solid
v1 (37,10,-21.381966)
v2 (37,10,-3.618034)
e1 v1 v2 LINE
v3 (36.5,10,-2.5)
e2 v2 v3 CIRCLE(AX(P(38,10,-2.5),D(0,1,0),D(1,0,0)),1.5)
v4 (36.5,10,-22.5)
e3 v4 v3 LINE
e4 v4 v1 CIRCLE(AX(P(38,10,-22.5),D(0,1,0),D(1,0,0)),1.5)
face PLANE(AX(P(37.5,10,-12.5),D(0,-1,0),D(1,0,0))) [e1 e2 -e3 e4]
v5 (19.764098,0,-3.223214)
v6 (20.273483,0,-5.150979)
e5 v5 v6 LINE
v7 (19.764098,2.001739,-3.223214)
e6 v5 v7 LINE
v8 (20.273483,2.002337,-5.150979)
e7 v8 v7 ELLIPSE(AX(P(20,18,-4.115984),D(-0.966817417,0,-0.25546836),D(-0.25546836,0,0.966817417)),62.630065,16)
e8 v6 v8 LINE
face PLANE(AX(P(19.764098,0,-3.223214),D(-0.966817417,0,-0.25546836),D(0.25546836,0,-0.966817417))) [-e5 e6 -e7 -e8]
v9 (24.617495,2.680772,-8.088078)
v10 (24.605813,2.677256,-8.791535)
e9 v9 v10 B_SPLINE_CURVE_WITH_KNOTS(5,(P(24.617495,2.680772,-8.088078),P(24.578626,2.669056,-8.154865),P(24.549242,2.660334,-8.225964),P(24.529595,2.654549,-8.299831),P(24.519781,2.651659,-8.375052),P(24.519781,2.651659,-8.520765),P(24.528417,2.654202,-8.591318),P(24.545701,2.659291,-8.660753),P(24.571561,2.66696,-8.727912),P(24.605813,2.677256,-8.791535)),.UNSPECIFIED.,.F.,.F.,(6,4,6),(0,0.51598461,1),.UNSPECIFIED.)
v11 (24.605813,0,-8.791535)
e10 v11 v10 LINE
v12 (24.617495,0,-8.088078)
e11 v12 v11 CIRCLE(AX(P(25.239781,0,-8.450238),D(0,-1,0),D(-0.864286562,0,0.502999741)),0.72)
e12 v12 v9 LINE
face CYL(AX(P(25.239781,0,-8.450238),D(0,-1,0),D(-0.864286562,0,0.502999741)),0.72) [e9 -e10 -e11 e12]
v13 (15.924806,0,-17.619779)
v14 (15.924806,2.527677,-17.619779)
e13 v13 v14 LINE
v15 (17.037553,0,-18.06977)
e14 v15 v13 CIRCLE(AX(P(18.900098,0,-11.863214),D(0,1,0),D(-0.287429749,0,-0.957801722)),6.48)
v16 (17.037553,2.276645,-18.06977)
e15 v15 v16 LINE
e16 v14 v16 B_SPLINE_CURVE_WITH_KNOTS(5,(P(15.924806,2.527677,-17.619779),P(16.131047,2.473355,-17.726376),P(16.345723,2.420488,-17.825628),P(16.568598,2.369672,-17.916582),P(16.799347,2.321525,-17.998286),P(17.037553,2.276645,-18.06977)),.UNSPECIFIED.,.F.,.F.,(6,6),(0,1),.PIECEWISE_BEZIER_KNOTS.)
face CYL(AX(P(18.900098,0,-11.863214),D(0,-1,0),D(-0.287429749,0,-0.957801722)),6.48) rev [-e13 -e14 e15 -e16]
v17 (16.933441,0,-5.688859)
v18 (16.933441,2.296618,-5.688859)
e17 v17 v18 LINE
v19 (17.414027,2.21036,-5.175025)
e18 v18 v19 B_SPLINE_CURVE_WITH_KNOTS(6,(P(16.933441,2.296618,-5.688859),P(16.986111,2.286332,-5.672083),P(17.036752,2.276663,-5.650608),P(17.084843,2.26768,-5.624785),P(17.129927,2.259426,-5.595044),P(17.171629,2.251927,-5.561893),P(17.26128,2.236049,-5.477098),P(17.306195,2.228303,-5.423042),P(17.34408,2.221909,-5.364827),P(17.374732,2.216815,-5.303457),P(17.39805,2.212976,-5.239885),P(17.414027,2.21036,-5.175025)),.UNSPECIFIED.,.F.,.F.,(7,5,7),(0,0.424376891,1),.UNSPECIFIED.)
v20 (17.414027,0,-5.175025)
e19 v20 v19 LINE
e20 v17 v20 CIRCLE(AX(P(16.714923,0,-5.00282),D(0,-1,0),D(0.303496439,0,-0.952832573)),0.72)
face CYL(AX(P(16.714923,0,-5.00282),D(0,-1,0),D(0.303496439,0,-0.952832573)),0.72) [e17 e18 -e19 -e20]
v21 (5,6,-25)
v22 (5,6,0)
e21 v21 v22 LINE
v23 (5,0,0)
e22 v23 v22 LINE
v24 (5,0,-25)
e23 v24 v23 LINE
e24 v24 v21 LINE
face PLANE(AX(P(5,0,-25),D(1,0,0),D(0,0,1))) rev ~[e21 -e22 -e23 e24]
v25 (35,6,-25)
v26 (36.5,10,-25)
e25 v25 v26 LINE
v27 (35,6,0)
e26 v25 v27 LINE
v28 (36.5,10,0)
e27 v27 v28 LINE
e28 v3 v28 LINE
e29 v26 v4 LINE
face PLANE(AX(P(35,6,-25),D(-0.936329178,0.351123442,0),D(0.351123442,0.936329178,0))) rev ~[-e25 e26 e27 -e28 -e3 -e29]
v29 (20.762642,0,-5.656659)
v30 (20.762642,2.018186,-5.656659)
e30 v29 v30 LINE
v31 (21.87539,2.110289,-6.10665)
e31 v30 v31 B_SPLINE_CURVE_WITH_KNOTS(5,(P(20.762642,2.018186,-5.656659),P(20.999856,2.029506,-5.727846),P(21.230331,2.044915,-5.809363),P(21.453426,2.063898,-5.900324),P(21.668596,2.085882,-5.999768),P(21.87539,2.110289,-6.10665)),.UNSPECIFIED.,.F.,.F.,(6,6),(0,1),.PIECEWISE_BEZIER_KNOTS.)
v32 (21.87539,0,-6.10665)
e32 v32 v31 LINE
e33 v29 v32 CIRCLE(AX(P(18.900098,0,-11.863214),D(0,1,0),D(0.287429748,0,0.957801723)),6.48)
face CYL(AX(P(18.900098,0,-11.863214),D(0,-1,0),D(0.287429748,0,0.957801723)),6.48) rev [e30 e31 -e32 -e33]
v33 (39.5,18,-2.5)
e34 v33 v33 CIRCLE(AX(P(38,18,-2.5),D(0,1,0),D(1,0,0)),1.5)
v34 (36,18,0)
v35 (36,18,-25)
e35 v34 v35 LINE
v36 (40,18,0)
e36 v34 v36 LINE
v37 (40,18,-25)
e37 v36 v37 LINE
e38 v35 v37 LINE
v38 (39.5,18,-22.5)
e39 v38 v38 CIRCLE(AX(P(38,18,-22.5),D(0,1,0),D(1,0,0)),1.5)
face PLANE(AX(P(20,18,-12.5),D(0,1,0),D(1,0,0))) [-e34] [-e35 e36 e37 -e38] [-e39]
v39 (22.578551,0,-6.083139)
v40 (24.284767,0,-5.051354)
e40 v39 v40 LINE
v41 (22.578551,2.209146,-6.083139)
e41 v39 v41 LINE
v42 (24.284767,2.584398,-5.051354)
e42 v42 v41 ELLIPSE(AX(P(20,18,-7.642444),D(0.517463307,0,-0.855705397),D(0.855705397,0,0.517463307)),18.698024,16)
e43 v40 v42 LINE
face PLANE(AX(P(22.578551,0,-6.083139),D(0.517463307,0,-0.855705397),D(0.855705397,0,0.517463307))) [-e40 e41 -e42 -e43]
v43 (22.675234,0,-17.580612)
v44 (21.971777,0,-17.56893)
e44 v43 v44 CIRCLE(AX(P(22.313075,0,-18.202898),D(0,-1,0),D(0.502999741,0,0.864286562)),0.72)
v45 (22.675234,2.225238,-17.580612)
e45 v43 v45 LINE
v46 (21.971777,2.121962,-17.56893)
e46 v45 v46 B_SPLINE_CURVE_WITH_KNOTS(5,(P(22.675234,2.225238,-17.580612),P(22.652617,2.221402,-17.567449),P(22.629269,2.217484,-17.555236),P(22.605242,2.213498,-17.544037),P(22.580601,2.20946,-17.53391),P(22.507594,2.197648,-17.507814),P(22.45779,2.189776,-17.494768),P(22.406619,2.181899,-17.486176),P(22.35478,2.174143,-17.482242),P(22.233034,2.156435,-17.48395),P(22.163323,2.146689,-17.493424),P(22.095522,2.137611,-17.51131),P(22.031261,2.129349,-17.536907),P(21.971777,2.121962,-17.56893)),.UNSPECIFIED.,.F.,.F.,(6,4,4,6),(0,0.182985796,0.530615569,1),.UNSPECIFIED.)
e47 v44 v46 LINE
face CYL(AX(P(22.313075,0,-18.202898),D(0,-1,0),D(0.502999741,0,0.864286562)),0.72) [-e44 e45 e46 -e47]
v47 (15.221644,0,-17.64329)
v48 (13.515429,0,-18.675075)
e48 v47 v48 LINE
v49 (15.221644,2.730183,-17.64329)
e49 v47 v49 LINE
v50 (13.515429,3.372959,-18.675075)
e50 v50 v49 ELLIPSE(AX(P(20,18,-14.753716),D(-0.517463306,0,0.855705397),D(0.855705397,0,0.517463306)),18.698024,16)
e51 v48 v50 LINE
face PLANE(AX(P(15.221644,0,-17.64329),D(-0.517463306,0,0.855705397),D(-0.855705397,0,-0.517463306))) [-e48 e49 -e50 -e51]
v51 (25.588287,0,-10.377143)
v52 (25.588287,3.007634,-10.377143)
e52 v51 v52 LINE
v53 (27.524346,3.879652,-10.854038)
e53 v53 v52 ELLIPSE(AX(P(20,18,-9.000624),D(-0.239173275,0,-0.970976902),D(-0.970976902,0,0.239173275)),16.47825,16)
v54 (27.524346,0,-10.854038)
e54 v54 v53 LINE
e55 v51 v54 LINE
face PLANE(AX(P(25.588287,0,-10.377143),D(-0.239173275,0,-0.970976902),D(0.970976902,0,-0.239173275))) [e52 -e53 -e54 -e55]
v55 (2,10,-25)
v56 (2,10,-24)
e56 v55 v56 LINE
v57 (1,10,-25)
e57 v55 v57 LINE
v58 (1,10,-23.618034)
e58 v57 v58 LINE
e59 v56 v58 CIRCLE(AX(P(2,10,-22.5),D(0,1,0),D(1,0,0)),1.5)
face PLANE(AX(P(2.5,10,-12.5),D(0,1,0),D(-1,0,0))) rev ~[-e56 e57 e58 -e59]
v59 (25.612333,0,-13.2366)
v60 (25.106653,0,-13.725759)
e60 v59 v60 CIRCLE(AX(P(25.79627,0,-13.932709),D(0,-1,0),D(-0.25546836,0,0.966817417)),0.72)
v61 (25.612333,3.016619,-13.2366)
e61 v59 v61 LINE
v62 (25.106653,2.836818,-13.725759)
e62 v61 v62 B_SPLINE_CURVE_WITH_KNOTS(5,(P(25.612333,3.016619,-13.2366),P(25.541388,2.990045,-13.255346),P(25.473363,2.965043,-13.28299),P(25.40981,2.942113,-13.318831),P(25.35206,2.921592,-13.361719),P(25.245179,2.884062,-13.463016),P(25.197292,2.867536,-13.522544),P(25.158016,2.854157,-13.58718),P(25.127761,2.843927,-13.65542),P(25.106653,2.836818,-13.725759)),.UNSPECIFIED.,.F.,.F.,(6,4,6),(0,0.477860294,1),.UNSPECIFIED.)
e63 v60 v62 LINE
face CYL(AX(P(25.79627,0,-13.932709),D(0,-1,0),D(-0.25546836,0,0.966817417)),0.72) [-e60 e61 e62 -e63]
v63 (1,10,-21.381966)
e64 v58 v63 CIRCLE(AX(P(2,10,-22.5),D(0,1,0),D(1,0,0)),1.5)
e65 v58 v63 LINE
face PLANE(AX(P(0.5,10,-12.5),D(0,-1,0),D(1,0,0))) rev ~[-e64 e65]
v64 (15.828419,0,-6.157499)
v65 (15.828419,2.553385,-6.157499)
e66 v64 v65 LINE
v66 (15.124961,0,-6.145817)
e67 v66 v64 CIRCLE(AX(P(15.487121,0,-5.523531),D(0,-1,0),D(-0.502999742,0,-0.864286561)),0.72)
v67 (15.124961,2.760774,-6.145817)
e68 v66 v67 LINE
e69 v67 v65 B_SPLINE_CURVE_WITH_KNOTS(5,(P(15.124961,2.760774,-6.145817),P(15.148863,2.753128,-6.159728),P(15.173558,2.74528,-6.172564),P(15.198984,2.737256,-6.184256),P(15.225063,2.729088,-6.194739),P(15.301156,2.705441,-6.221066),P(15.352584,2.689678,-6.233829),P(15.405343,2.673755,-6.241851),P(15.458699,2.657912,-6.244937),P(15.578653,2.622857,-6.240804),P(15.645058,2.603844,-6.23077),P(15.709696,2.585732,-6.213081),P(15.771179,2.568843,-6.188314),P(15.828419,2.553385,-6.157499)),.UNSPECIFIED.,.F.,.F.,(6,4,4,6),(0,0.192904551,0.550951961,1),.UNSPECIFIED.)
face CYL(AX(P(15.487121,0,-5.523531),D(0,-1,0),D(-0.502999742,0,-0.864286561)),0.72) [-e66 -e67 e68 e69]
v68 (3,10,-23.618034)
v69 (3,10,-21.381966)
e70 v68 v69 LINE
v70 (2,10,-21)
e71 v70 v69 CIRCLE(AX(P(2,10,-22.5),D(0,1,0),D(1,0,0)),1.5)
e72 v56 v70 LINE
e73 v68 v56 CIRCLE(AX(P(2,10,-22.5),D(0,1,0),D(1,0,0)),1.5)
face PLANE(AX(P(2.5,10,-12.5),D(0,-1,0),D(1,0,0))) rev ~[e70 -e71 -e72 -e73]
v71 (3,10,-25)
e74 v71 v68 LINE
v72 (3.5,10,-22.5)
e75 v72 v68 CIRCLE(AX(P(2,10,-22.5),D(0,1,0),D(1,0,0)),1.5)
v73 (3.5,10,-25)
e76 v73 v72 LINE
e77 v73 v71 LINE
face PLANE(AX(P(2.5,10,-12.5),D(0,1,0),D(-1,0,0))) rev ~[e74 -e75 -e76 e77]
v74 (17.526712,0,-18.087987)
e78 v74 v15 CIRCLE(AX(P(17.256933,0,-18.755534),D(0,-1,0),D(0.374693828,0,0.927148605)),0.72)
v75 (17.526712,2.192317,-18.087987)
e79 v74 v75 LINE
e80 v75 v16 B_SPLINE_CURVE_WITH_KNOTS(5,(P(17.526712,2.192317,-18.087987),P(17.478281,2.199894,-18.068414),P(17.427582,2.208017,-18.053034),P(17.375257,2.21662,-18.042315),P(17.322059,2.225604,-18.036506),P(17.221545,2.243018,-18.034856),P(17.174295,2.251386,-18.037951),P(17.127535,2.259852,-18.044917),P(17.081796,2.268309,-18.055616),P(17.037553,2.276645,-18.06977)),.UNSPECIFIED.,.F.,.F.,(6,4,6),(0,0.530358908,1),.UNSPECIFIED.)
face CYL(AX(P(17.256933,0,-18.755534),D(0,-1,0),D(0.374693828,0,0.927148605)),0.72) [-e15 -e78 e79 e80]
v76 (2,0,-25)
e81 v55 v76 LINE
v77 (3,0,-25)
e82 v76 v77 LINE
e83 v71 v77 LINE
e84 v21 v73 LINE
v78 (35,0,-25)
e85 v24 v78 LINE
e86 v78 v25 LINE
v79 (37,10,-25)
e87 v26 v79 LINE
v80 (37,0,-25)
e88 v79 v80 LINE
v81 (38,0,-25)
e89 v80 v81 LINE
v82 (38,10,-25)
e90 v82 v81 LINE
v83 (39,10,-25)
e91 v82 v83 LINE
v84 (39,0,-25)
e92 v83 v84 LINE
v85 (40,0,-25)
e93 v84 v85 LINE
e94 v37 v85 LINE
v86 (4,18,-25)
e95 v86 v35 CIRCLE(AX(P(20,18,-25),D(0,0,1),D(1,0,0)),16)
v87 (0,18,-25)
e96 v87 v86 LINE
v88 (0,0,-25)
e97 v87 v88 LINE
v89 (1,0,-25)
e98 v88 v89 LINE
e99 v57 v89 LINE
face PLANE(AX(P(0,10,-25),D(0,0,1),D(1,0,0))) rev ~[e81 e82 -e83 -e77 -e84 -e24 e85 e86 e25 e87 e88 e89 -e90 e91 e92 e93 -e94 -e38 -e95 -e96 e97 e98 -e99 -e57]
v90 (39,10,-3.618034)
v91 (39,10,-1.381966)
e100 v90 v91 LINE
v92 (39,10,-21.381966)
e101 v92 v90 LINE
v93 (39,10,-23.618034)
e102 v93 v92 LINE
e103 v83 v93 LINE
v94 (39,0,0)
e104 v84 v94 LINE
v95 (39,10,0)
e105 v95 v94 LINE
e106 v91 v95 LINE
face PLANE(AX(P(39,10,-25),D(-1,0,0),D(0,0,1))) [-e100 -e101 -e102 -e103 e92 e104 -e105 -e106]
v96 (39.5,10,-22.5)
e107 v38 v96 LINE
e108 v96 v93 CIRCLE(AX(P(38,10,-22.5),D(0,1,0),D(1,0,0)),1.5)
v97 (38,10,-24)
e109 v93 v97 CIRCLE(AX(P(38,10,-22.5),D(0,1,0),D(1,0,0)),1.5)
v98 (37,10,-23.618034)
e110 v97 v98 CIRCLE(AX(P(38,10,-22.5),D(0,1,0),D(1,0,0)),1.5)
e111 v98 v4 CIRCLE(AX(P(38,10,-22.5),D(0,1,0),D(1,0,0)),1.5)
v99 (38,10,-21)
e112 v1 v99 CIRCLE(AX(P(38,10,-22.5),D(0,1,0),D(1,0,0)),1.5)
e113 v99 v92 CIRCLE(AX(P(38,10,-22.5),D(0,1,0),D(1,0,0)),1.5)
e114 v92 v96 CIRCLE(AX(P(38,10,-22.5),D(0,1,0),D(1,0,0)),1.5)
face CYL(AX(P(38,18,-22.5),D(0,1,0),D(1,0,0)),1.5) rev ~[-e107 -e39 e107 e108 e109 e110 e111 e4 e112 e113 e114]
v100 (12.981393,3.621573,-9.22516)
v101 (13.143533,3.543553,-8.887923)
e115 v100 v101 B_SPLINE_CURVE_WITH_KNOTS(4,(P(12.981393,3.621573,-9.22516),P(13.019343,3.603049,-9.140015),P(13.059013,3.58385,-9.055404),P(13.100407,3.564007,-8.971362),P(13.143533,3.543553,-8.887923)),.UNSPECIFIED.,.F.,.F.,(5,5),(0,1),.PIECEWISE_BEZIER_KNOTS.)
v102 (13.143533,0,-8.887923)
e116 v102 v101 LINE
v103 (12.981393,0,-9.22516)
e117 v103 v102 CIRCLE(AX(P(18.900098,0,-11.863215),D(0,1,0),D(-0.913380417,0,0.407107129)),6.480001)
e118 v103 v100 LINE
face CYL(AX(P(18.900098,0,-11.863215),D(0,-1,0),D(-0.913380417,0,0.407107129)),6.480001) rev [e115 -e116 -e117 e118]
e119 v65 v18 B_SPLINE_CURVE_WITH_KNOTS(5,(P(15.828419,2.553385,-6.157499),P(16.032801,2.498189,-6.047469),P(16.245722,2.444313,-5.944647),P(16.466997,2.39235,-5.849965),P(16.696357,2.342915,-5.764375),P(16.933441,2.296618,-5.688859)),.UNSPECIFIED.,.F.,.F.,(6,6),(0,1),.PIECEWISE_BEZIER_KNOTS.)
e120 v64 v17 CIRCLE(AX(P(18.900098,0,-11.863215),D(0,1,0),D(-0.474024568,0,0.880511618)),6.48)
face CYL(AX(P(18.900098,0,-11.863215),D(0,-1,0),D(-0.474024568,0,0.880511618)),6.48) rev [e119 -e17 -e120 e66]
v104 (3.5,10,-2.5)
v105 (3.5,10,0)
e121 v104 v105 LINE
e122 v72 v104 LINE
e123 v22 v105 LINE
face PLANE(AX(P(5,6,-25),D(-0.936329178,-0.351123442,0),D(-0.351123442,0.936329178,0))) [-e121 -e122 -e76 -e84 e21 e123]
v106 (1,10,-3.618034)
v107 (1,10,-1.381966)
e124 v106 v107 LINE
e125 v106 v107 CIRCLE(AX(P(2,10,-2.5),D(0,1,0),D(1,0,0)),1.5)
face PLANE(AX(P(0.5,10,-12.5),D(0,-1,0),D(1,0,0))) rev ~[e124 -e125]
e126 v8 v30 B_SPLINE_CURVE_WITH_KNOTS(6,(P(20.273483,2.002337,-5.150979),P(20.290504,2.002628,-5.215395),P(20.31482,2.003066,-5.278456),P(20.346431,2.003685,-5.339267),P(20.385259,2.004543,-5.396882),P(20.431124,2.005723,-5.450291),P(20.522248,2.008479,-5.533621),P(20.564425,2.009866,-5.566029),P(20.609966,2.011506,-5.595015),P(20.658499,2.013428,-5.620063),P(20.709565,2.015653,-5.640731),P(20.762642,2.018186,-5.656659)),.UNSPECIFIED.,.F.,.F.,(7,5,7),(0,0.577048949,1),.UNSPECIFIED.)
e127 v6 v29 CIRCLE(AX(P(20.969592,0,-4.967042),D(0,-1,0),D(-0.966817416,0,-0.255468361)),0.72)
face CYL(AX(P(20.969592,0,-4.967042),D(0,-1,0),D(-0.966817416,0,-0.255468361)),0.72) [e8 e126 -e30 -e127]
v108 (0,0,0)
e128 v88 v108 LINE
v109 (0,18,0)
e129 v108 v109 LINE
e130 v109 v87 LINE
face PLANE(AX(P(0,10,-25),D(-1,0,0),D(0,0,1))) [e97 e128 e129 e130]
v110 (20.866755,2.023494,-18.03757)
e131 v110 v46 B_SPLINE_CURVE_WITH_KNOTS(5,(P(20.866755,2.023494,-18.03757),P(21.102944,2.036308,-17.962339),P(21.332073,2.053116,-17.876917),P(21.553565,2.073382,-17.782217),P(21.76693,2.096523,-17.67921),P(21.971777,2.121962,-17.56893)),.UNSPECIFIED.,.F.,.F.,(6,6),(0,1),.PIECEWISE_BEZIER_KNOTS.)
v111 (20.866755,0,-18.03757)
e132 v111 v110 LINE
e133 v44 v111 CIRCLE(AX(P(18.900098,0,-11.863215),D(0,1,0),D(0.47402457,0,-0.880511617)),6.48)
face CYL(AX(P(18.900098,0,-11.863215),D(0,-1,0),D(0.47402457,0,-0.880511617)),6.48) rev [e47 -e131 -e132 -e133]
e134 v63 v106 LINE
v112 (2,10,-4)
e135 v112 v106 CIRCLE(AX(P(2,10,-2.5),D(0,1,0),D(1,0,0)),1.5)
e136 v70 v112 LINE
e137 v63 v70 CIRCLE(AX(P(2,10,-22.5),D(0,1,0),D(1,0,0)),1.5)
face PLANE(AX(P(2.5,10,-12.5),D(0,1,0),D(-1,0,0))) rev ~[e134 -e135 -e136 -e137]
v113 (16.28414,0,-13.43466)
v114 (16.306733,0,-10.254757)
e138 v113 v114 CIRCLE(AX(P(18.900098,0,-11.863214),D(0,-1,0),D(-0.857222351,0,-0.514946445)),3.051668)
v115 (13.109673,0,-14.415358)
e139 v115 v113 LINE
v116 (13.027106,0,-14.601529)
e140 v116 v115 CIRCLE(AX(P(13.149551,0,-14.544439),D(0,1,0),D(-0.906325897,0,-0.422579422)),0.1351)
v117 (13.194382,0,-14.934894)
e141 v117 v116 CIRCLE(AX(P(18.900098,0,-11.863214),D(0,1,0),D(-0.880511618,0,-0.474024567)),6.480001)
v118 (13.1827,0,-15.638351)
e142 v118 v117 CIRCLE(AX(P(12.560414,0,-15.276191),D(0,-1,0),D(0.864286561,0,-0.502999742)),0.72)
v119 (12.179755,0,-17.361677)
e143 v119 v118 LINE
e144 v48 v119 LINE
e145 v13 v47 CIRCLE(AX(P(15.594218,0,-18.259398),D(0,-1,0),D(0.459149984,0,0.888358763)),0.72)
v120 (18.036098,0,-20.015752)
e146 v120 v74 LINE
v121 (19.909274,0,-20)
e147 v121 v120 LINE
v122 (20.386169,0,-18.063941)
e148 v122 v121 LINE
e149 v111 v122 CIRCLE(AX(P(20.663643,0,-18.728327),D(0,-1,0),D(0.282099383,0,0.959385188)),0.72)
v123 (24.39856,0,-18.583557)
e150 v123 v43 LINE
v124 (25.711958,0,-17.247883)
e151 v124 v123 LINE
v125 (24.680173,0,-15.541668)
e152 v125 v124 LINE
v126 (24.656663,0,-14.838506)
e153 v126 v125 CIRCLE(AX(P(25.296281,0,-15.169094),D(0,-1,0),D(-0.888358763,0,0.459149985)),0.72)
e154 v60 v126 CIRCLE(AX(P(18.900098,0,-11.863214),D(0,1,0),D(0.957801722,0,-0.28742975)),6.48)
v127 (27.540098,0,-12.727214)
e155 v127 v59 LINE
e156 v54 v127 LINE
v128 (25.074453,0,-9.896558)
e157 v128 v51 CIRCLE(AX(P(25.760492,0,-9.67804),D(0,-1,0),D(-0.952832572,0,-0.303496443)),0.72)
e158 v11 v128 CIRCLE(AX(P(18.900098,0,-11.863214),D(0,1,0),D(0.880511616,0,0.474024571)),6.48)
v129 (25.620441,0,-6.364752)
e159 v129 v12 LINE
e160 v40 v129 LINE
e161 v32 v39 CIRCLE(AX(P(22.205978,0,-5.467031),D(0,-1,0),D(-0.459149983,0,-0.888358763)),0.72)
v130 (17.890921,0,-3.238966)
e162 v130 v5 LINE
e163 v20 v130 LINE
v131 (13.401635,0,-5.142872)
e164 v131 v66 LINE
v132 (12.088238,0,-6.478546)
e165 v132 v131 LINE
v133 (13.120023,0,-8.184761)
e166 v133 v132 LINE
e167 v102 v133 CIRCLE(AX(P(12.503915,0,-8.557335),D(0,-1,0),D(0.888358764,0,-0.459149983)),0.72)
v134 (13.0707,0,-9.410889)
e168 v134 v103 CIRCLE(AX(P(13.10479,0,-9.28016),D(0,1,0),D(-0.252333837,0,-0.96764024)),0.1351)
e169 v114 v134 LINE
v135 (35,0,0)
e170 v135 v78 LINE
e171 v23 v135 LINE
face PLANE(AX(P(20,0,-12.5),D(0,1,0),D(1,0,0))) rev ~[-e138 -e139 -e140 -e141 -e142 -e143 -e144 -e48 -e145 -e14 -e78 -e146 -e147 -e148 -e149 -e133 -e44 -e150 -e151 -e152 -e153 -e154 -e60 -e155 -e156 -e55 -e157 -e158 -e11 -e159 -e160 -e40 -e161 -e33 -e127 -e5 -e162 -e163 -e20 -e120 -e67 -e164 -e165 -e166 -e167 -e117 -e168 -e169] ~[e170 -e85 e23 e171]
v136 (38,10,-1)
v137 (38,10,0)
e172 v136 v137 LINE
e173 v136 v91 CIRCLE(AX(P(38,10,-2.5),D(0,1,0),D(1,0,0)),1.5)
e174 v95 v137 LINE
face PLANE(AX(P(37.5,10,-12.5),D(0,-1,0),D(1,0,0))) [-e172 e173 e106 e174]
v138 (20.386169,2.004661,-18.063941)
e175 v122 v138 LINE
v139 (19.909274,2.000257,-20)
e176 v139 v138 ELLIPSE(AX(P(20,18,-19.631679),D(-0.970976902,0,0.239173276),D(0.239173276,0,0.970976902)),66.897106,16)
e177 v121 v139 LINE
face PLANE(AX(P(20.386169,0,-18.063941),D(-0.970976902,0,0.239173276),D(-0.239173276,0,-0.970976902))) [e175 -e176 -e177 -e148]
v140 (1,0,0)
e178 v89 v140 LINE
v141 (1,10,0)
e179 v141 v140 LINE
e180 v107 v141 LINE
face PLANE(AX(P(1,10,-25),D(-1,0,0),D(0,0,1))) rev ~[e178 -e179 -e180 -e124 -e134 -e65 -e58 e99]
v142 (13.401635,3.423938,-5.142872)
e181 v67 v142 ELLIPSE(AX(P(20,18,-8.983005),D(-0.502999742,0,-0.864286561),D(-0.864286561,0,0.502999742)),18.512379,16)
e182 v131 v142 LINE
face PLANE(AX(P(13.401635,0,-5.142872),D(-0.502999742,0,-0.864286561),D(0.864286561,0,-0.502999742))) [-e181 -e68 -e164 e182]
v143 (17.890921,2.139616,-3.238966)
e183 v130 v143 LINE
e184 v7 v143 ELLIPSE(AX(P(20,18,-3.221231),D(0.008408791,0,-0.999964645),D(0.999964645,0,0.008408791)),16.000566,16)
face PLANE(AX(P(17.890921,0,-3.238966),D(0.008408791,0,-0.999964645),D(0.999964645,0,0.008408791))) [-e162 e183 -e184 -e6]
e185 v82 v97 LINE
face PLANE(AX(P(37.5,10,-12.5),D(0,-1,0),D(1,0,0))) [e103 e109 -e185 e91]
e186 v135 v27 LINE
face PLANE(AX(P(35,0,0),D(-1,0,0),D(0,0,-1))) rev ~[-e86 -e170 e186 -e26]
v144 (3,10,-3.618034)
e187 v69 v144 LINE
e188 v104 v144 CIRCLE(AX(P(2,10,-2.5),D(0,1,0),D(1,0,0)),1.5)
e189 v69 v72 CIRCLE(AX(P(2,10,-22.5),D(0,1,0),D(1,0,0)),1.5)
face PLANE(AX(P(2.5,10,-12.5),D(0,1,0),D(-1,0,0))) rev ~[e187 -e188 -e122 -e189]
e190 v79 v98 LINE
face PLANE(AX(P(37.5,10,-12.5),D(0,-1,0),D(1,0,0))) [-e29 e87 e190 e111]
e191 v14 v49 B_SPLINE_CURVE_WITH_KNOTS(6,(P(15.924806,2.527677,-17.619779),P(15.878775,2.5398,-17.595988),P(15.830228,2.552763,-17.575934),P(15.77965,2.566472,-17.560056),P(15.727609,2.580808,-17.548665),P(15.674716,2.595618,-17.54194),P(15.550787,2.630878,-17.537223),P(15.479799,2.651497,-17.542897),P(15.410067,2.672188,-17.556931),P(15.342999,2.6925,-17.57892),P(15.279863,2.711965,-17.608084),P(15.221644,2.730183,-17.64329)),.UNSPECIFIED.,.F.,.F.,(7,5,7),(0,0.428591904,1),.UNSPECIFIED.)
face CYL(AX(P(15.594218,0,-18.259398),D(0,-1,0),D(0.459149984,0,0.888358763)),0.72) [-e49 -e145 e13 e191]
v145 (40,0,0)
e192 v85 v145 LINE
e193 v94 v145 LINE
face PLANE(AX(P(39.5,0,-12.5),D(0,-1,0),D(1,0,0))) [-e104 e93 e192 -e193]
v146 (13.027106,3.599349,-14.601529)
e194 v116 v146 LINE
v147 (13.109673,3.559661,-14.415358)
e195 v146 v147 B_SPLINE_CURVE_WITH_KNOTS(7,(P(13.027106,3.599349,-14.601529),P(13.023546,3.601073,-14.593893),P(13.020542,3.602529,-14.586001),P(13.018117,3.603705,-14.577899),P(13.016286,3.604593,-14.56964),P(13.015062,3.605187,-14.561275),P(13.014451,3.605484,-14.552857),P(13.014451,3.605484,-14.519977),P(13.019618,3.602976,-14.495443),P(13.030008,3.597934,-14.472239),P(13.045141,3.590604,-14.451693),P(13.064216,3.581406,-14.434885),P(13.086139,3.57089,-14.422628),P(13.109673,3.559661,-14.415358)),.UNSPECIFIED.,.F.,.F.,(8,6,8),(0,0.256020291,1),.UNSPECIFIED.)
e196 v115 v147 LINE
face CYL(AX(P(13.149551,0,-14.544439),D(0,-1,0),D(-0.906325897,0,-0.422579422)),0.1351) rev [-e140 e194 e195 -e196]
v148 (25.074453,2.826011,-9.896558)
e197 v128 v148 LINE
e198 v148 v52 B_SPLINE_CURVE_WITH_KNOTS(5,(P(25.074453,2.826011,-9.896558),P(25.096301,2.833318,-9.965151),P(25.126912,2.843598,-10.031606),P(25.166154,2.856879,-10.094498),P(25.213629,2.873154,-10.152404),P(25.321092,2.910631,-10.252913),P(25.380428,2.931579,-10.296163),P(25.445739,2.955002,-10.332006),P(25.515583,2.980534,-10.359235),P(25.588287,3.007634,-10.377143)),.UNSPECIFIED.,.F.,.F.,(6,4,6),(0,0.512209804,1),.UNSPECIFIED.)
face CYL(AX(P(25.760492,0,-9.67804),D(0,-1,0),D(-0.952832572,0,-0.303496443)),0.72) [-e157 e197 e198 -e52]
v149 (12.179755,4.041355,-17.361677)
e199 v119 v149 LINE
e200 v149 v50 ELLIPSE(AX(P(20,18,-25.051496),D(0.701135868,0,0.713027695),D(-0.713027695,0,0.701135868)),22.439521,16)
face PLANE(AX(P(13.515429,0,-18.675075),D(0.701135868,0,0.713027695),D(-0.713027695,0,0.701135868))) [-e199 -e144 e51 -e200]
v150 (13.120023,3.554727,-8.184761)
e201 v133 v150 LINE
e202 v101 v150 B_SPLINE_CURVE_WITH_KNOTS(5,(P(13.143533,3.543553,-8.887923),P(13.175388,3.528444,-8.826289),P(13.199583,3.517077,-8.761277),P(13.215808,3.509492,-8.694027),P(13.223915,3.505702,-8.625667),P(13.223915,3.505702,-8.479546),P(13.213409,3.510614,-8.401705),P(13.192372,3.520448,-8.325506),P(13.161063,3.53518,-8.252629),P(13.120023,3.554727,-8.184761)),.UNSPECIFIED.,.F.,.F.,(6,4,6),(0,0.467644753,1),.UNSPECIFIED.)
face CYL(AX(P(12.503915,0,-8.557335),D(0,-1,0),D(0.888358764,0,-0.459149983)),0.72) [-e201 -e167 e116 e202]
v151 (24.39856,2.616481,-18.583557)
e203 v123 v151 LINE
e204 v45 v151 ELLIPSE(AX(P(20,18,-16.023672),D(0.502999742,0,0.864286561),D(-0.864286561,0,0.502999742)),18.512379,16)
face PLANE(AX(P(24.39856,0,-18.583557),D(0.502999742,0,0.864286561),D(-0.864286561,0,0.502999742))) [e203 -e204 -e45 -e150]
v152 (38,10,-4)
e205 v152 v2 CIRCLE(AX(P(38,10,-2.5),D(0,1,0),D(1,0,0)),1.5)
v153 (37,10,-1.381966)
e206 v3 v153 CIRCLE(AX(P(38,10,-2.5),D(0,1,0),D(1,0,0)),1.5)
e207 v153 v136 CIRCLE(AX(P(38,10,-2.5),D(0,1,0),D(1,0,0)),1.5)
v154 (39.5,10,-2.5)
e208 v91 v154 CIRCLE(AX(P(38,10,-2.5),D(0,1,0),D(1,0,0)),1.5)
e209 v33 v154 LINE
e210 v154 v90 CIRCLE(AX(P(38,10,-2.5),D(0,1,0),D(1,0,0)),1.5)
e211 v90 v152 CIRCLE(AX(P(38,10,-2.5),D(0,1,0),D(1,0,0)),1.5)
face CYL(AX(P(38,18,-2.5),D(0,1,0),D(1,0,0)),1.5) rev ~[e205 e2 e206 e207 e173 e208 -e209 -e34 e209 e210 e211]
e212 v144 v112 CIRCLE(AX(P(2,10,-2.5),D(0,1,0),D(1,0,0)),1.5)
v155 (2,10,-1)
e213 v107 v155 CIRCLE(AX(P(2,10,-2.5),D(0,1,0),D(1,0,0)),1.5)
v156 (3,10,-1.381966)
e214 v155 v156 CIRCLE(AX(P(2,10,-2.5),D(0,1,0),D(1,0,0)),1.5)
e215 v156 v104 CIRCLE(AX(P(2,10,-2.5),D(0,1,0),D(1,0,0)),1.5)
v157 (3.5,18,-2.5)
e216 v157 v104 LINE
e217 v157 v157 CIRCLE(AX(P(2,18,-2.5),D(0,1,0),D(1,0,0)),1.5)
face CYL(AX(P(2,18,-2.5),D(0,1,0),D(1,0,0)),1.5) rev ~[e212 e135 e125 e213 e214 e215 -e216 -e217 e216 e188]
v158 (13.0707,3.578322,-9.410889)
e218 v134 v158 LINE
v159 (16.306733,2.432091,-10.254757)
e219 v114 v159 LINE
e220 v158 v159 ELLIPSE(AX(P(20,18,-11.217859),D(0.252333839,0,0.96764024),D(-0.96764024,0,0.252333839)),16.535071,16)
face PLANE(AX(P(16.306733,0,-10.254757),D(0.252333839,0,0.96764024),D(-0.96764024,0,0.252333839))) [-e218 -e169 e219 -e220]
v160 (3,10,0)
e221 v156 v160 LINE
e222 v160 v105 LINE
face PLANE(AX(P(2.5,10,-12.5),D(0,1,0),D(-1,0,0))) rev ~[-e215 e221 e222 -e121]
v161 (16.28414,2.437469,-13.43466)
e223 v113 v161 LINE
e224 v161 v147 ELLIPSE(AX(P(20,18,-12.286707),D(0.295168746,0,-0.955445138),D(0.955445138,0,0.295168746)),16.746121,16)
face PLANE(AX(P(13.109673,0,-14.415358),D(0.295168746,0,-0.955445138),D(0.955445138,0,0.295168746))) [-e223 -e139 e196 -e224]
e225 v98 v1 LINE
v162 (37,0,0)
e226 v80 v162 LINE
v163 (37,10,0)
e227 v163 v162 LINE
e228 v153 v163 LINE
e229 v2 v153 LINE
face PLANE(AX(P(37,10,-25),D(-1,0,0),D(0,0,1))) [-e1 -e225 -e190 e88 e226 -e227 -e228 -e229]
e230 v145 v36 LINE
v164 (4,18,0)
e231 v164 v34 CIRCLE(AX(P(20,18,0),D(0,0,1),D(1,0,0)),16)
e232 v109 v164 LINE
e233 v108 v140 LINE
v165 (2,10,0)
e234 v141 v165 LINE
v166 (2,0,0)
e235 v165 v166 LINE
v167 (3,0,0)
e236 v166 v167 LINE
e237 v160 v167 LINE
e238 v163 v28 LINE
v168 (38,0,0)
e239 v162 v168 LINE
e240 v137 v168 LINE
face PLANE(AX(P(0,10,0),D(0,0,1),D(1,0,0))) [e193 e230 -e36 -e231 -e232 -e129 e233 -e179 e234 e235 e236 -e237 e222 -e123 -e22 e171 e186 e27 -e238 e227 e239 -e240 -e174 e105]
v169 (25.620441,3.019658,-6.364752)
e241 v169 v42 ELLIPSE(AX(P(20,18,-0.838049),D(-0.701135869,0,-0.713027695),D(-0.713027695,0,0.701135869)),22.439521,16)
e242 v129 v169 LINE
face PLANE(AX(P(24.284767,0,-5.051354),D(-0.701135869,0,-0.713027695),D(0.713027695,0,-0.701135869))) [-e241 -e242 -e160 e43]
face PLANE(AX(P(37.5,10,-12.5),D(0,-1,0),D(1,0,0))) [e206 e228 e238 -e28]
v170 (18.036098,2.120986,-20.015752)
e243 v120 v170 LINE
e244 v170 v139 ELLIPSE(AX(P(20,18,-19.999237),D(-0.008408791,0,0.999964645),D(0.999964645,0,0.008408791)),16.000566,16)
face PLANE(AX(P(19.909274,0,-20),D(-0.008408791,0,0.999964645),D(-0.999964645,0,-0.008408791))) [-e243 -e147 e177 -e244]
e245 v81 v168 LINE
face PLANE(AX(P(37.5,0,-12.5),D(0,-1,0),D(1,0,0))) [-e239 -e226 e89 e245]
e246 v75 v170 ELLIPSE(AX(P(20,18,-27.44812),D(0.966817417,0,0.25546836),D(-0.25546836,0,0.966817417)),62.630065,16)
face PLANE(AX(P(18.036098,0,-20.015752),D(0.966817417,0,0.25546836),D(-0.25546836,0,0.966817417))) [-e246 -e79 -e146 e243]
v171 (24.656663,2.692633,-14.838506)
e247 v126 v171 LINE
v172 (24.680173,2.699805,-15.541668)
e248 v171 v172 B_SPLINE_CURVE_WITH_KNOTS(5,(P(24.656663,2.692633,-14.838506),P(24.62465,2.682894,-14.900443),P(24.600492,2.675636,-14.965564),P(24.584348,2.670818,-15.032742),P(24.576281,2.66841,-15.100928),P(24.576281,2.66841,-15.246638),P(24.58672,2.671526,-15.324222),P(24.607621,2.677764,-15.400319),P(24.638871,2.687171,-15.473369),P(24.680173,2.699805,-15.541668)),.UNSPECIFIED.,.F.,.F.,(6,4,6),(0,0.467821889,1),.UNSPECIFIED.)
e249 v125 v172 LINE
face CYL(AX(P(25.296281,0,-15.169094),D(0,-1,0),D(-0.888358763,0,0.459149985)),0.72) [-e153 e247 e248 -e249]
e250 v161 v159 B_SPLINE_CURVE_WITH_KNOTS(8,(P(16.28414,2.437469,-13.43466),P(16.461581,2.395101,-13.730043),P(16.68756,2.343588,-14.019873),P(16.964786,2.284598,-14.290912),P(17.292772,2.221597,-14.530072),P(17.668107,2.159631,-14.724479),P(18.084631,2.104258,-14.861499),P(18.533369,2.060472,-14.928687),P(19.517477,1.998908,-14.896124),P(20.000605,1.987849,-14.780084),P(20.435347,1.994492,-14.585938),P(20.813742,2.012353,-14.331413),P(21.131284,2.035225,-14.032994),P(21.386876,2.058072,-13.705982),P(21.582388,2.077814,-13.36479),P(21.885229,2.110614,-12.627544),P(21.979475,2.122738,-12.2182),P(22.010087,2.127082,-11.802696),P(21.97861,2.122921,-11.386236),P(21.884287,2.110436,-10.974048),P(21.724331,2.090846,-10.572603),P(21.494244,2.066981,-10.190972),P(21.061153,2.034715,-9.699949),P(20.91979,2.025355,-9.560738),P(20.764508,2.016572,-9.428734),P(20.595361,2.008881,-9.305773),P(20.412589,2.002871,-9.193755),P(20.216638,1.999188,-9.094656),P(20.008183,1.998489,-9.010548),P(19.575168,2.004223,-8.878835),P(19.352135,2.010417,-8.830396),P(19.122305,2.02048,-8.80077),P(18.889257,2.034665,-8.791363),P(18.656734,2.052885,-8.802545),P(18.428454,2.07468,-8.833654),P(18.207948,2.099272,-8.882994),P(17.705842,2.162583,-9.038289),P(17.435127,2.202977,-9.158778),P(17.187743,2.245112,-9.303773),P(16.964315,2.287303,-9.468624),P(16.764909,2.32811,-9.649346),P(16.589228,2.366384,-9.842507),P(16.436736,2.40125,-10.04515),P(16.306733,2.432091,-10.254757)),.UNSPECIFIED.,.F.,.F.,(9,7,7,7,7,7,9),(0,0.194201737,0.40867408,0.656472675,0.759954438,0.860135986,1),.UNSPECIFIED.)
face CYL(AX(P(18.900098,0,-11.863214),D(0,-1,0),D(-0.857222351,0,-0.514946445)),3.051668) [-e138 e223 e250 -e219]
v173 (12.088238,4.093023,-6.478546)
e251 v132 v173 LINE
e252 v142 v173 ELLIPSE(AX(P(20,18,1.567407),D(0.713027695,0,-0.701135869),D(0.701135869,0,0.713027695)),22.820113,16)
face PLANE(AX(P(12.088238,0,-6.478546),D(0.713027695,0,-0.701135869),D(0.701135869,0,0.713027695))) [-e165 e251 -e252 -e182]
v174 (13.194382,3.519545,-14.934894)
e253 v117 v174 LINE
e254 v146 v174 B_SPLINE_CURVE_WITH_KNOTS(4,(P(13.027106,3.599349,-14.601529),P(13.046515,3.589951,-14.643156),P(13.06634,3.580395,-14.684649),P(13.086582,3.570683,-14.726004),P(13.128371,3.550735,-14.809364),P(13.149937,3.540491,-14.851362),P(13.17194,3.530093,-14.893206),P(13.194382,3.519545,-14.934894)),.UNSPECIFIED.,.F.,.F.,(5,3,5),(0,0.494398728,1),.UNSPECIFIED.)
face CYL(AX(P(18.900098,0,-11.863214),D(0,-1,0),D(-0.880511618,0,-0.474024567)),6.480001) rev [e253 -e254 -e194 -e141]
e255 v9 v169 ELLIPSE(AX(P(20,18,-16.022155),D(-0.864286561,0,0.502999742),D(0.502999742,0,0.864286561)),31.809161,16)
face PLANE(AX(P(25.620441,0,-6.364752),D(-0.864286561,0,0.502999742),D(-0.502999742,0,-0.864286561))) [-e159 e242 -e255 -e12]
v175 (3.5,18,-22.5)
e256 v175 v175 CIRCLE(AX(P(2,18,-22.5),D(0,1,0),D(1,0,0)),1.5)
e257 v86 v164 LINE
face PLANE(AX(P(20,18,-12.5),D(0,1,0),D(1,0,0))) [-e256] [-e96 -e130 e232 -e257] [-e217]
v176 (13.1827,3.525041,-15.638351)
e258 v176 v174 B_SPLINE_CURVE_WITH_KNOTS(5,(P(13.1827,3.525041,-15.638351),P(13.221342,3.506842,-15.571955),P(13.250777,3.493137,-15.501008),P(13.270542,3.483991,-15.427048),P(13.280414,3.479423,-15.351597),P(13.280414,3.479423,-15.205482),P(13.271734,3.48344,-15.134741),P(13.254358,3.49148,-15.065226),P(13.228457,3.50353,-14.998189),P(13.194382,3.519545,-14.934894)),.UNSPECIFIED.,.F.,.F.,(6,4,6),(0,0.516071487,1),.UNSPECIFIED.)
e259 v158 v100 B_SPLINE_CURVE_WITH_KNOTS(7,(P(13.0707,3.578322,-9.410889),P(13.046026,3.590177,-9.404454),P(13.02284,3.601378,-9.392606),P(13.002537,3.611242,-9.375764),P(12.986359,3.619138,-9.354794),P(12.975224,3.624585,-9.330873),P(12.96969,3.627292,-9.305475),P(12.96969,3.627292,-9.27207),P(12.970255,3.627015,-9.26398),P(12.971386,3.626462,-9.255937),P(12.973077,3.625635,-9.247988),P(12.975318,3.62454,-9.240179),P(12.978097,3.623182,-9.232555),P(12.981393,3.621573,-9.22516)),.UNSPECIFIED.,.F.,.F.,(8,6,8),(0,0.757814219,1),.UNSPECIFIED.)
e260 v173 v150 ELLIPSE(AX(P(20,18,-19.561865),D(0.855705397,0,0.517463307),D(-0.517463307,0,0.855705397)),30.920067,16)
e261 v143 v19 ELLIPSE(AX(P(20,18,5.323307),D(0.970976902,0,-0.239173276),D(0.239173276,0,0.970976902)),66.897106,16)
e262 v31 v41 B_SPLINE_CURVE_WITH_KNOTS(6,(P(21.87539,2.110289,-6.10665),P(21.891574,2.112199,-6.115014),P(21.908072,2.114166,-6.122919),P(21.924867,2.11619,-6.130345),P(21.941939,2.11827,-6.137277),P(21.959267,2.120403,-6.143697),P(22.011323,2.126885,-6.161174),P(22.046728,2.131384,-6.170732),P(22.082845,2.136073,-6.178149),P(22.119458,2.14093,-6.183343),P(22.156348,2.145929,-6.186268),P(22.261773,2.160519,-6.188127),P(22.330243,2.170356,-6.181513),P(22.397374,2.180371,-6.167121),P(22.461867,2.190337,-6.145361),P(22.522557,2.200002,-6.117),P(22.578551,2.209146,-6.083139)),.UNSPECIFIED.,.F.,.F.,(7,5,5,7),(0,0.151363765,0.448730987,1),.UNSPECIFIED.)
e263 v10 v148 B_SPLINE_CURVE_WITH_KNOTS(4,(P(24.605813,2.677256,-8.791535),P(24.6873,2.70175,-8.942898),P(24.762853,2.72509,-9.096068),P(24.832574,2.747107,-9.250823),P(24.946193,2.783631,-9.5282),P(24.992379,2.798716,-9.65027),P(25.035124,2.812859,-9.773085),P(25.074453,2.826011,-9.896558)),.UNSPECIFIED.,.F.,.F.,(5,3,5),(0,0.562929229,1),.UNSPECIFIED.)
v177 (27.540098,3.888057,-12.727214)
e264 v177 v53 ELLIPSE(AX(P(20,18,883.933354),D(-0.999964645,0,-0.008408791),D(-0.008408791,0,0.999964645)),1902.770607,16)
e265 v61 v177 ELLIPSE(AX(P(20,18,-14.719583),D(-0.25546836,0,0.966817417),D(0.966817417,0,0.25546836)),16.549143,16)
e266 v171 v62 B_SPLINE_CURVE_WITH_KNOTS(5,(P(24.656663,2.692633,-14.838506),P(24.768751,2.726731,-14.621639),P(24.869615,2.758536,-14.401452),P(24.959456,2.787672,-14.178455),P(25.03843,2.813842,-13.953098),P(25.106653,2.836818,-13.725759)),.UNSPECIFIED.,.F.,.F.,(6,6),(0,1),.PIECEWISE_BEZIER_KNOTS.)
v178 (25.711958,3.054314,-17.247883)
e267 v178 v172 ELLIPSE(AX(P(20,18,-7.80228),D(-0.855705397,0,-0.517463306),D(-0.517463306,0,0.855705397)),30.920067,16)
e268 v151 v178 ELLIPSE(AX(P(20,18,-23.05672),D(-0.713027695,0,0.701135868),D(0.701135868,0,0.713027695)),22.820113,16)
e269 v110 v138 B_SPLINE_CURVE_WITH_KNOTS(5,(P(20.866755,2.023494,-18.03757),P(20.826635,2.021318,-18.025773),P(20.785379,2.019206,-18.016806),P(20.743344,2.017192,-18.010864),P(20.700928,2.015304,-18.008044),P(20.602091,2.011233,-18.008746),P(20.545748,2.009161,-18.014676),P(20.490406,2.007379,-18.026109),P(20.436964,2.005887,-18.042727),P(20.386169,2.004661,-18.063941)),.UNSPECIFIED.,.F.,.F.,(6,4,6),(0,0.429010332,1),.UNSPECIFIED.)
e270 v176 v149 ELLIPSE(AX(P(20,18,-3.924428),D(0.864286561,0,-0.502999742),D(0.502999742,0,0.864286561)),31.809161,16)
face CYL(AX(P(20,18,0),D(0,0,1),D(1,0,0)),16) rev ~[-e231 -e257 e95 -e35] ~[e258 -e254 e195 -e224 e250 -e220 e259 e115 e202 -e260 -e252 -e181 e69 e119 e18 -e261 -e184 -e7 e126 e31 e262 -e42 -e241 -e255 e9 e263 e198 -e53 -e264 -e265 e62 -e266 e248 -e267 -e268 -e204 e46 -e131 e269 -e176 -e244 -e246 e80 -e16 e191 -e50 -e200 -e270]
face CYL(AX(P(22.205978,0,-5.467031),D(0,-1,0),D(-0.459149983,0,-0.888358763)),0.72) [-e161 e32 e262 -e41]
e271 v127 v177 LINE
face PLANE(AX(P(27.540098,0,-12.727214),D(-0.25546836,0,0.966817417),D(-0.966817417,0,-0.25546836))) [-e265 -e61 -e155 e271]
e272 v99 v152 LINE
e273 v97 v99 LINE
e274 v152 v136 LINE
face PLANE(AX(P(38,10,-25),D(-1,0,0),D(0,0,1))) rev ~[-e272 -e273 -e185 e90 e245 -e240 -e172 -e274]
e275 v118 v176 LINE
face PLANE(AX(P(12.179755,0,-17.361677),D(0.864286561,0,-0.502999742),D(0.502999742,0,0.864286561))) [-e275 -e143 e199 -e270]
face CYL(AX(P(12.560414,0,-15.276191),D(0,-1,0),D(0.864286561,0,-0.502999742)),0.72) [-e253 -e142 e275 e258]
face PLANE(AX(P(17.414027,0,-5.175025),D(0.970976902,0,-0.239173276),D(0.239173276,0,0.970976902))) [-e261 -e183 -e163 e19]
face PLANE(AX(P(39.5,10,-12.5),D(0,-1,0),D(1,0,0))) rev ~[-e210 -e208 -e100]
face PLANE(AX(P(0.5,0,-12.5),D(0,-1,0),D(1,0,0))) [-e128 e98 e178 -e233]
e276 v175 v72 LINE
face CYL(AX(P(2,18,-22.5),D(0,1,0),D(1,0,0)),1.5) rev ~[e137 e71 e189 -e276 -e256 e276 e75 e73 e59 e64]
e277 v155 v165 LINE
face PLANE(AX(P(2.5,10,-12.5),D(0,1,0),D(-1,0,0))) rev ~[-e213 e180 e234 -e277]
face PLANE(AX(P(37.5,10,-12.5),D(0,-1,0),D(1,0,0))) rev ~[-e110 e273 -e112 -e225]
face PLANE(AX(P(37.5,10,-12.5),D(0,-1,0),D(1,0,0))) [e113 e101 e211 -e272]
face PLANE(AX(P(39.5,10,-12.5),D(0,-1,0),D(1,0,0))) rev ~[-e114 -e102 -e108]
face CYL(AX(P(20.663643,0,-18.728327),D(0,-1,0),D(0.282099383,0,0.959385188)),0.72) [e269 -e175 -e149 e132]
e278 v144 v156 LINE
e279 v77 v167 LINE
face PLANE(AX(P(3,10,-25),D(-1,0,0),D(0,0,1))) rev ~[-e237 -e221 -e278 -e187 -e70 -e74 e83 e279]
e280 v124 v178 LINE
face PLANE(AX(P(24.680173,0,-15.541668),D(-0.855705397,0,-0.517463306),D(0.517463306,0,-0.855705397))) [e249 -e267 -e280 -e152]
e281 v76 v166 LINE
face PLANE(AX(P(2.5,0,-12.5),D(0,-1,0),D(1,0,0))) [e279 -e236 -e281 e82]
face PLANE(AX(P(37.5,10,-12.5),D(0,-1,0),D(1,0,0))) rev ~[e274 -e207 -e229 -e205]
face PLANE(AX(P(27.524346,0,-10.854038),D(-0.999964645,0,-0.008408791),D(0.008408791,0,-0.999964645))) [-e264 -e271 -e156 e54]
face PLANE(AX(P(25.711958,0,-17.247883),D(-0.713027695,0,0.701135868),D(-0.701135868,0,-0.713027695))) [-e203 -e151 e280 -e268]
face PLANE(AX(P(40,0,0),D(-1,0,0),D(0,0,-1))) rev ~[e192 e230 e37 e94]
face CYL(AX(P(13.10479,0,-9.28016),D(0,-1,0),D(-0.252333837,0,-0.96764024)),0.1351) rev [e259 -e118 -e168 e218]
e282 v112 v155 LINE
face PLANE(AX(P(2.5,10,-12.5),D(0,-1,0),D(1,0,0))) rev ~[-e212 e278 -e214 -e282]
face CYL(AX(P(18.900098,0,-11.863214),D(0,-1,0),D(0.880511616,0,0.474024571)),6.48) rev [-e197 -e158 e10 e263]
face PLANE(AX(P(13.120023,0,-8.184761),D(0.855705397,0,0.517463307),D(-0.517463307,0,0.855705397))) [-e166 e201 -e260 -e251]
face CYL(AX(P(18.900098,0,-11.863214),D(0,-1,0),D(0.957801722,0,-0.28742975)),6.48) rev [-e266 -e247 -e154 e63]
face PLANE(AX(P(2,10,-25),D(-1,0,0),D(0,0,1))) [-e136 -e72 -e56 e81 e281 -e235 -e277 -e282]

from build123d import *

# Parameters (mm, degrees)
CROQUIS1_W              = 40
CROQUIS1_H              = 25
SALIENTE_EXTRUIR1_DEPTH = 18
CROQUIS2_R              = 16
CORTAR_EXTRUIR1_DEPTH   = 26
CROQUIS3_R              = 1.5
CORTAR_EXTRUIR2_DEPTH   = 19
CORTAR_EXTRUIR3_DEPTH   = 10
SALIENTE_EXTRUIR2_DEPTH = 25
CROQUIS6_W              = 1
CROQUIS6_H              = 25
SALIENTE_EXTRUIR3_DEPTH = 10


with BuildPart() as part:
    # Croquis1 → Saliente-Extruir1 (new body)
    with BuildSketch(Plane(origin=(0, 0, 0), x_dir=(1, 0, 0), z_dir=(0, 1, 0))):
        with Locations((20, 12.5)):
            Rectangle(CROQUIS1_W, CROQUIS1_H)
    extrude(amount=SALIENTE_EXTRUIR1_DEPTH)

    # Croquis2 → Cortar-Extruir1 (cut, through all)
    with BuildSketch(Plane.XY):
        with Locations((20, 18)):
            Circle(CROQUIS2_R)
    extrude(amount=-CORTAR_EXTRUIR1_DEPTH, mode=Mode.SUBTRACT)

    # Croquis3 → Cortar-Extruir2 (cut, through all)
    with BuildSketch(Plane(origin=(0, 18, 0), x_dir=(1, 0, 0), z_dir=(0, 1, 0))):
        with Locations((2, 2.5)):
            Circle(CROQUIS3_R)
        with Locations((2, 22.5)):
            Circle(CROQUIS3_R)
        with Locations((38, 2.5)):
            Circle(CROQUIS3_R)
        with Locations((38, 22.5)):
            Circle(CROQUIS3_R)
    extrude(amount=-CORTAR_EXTRUIR2_DEPTH, mode=Mode.SUBTRACT)

    # Croquis4 → Cortar-Extruir3 (cut)
    with BuildSketch(Plane.XZ):
        with BuildLine():
            Line((12.088237667, -6.478545635), (13.401635398, -5.142871626))
            Line((13.401635398, -5.142871626), (15.124961017, -6.145817155))
            ThreePointArc((15.124961017, -6.145817155), (15.475165724, -6.243431571), (15.828418521, -6.157499195))
            ThreePointArc((15.828418521, -6.157499195), (16.370055517, -5.897538787), (16.933440791, -5.688859407))
            ThreePointArc((16.933440791, -5.688859407), (17.240768872, -5.494639527), (17.414026723, -5.175024714))
            Line((17.414026723, -5.175024714), (17.890921137, -3.238966182))
            Line((17.890921137, -3.238966182), (19.764097728, -3.223214474))
            Line((19.764097728, -3.223214474), (20.273483375, -5.15097929))
            ThreePointArc((20.273483375, -5.15097929), (20.452091683, -5.467635229), (20.762642496, -5.656659312))
            ThreePointArc((20.762642496, -5.656659312), (21.329457457, -5.855834737), (21.875389609, -6.10664968))
            ThreePointArc((21.875389609, -6.10664968), (22.230037574, -6.186629256), (22.578551176, -6.083139256))
            Line((22.578551176, -6.083139256), (24.284766568, -5.051354413))
            Line((24.284766568, -5.051354413), (25.620440577, -6.364752144))
            Line((25.620440577, -6.364752144), (24.617495048, -8.088077763))
            ThreePointArc((24.617495048, -8.088077763), (24.519880632, -8.43828247), (24.605813007, -8.791535267))
            ThreePointArc((24.605813007, -8.791535267), (24.865773416, -9.333172263), (25.074452795, -9.896557537))
            ThreePointArc((25.074452795, -9.896557537), (25.268672676, -10.203885618), (25.588287488, -10.377143469))
            Line((25.588287488, -10.377143469), (27.524346021, -10.854037883))
            Line((27.524346021, -10.854037883), (27.540097728, -12.727214474))
            Line((27.540097728, -12.727214474), (25.612332912, -13.236600121))
            ThreePointArc((25.612332912, -13.236600121), (25.295676973, -13.415208429), (25.106652891, -13.725759242))
            ThreePointArc((25.106652891, -13.725759242), (24.907477465, -14.292574203), (24.656662522, -14.838506355))
            ThreePointArc((24.656662522, -14.838506355), (24.576682946, -15.19315432), (24.680172947, -15.541667922))
            Line((24.680172947, -15.541667922), (25.711957789, -17.247883314))
            Line((25.711957789, -17.247883314), (24.398560059, -18.583557323))
            Line((24.398560059, -18.583557323), (22.67523444, -17.580611794))
            ThreePointArc((22.67523444, -17.580611794), (22.325029732, -17.482997378), (21.971776936, -17.568929753))
            ThreePointArc((21.971776936, -17.568929753), (21.430139939, -17.828890162), (20.866754665, -18.037569541))
            ThreePointArc((20.866754665, -18.037569541), (20.6241928, -18.009408471), (20.386168733, -18.063941468))
            Line((20.386168733, -18.063941468), (19.909274319, -20))
            Line((19.909274319, -20), (18.036097728, -20.015751708))
            Line((18.036097728, -20.015751708), (17.526712081, -18.087986892))
            ThreePointArc((17.526712081, -18.087986892), (17.283728175, -18.036032676), (17.03755296, -18.069769637))
            ThreePointArc((17.03755296, -18.069769637), (16.470737999, -17.870594211), (15.924805848, -17.619779268))
            ThreePointArc((15.924805848, -17.619779268), (15.570157883, -17.539799692), (15.22164428, -17.643289693))
            Line((15.22164428, -17.643289693), (13.515428889, -18.675074535))
            Line((13.515428889, -18.675074535), (12.17975488, -17.361676805))
            Line((12.17975488, -17.361676805), (13.182700409, -15.638351186))
            ThreePointArc((13.182700409, -15.638351186), (13.280314825, -15.288146478), (13.194382449, -14.934893682))
            ThreePointArc((13.194382449, -14.934893682), (13.1083452, -14.769415199), (13.027105933, -14.601529171))
            ThreePointArc((13.027105933, -14.601529171), (13.02605148, -14.489666601), (13.109673231, -14.415358127))
            Line((13.109673231, -14.415358127), (16.284140051, -13.434659859))
            ThreePointArc((16.284140051, -13.434659859), (21.951688309, -11.884896122), (16.306733365, -10.25475669))
            Line((16.306733365, -10.25475669), (13.070699975, -9.410888594))
            ThreePointArc((13.070699975, -9.410888594), (12.983034926, -9.338706443), (12.981392618, -9.2251603))
            ThreePointArc((12.981392618, -9.2251603), (13.060028024, -9.055370844), (13.143532934, -8.887922594))
            ThreePointArc((13.143532934, -8.887922594), (13.22351251, -8.533274629), (13.12002251, -8.184761026))
            Line((13.12002251, -8.184761026), (12.088237667, -6.478545635))
        make_face()
        Polygon((5, -20), (5, -25), (0, -25), (0, -20), (0, -5), (0, 0), (5, 0), (5, -5), align=None)
        Polygon((35, 0), (35, -5), (35, -20), (35, -25), (40, -25), (40, -20), (40, -5), (40, 0), align=None)
    extrude(amount=-CORTAR_EXTRUIR3_DEPTH, mode=Mode.SUBTRACT)

    # Croquis5 → Saliente-Extruir2 (add)
    with BuildSketch(Plane(origin=(0, 0, -25), x_dir=(-1, 0, 0), z_dir=(0, 0, -1))):
        Polygon((-5, 10), (-5, 6), (-3.5, 10), align=None)
        Polygon((-35, 10), (-35, 6), (-36.5, 10), align=None)
    extrude(amount=-SALIENTE_EXTRUIR2_DEPTH)

    # Croquis6 → Saliente-Extruir3 (add)
    with BuildSketch(Plane.XZ.offset(-10)):
        with Locations((0.5, -12.5)):
            Rectangle(CROQUIS6_W, CROQUIS6_H)
        with Locations((39.5, -12.5)):
            Rectangle(CROQUIS6_W, CROQUIS6_H)
        with Locations((2.5, -12.5)):
            Rectangle(CROQUIS6_W, CROQUIS6_H)
        with Locations((37.5, -12.5)):
            Rectangle(CROQUIS6_W, CROQUIS6_H)
    extrude(amount=SALIENTE_EXTRUIR3_DEPTH)


solid = part.part
